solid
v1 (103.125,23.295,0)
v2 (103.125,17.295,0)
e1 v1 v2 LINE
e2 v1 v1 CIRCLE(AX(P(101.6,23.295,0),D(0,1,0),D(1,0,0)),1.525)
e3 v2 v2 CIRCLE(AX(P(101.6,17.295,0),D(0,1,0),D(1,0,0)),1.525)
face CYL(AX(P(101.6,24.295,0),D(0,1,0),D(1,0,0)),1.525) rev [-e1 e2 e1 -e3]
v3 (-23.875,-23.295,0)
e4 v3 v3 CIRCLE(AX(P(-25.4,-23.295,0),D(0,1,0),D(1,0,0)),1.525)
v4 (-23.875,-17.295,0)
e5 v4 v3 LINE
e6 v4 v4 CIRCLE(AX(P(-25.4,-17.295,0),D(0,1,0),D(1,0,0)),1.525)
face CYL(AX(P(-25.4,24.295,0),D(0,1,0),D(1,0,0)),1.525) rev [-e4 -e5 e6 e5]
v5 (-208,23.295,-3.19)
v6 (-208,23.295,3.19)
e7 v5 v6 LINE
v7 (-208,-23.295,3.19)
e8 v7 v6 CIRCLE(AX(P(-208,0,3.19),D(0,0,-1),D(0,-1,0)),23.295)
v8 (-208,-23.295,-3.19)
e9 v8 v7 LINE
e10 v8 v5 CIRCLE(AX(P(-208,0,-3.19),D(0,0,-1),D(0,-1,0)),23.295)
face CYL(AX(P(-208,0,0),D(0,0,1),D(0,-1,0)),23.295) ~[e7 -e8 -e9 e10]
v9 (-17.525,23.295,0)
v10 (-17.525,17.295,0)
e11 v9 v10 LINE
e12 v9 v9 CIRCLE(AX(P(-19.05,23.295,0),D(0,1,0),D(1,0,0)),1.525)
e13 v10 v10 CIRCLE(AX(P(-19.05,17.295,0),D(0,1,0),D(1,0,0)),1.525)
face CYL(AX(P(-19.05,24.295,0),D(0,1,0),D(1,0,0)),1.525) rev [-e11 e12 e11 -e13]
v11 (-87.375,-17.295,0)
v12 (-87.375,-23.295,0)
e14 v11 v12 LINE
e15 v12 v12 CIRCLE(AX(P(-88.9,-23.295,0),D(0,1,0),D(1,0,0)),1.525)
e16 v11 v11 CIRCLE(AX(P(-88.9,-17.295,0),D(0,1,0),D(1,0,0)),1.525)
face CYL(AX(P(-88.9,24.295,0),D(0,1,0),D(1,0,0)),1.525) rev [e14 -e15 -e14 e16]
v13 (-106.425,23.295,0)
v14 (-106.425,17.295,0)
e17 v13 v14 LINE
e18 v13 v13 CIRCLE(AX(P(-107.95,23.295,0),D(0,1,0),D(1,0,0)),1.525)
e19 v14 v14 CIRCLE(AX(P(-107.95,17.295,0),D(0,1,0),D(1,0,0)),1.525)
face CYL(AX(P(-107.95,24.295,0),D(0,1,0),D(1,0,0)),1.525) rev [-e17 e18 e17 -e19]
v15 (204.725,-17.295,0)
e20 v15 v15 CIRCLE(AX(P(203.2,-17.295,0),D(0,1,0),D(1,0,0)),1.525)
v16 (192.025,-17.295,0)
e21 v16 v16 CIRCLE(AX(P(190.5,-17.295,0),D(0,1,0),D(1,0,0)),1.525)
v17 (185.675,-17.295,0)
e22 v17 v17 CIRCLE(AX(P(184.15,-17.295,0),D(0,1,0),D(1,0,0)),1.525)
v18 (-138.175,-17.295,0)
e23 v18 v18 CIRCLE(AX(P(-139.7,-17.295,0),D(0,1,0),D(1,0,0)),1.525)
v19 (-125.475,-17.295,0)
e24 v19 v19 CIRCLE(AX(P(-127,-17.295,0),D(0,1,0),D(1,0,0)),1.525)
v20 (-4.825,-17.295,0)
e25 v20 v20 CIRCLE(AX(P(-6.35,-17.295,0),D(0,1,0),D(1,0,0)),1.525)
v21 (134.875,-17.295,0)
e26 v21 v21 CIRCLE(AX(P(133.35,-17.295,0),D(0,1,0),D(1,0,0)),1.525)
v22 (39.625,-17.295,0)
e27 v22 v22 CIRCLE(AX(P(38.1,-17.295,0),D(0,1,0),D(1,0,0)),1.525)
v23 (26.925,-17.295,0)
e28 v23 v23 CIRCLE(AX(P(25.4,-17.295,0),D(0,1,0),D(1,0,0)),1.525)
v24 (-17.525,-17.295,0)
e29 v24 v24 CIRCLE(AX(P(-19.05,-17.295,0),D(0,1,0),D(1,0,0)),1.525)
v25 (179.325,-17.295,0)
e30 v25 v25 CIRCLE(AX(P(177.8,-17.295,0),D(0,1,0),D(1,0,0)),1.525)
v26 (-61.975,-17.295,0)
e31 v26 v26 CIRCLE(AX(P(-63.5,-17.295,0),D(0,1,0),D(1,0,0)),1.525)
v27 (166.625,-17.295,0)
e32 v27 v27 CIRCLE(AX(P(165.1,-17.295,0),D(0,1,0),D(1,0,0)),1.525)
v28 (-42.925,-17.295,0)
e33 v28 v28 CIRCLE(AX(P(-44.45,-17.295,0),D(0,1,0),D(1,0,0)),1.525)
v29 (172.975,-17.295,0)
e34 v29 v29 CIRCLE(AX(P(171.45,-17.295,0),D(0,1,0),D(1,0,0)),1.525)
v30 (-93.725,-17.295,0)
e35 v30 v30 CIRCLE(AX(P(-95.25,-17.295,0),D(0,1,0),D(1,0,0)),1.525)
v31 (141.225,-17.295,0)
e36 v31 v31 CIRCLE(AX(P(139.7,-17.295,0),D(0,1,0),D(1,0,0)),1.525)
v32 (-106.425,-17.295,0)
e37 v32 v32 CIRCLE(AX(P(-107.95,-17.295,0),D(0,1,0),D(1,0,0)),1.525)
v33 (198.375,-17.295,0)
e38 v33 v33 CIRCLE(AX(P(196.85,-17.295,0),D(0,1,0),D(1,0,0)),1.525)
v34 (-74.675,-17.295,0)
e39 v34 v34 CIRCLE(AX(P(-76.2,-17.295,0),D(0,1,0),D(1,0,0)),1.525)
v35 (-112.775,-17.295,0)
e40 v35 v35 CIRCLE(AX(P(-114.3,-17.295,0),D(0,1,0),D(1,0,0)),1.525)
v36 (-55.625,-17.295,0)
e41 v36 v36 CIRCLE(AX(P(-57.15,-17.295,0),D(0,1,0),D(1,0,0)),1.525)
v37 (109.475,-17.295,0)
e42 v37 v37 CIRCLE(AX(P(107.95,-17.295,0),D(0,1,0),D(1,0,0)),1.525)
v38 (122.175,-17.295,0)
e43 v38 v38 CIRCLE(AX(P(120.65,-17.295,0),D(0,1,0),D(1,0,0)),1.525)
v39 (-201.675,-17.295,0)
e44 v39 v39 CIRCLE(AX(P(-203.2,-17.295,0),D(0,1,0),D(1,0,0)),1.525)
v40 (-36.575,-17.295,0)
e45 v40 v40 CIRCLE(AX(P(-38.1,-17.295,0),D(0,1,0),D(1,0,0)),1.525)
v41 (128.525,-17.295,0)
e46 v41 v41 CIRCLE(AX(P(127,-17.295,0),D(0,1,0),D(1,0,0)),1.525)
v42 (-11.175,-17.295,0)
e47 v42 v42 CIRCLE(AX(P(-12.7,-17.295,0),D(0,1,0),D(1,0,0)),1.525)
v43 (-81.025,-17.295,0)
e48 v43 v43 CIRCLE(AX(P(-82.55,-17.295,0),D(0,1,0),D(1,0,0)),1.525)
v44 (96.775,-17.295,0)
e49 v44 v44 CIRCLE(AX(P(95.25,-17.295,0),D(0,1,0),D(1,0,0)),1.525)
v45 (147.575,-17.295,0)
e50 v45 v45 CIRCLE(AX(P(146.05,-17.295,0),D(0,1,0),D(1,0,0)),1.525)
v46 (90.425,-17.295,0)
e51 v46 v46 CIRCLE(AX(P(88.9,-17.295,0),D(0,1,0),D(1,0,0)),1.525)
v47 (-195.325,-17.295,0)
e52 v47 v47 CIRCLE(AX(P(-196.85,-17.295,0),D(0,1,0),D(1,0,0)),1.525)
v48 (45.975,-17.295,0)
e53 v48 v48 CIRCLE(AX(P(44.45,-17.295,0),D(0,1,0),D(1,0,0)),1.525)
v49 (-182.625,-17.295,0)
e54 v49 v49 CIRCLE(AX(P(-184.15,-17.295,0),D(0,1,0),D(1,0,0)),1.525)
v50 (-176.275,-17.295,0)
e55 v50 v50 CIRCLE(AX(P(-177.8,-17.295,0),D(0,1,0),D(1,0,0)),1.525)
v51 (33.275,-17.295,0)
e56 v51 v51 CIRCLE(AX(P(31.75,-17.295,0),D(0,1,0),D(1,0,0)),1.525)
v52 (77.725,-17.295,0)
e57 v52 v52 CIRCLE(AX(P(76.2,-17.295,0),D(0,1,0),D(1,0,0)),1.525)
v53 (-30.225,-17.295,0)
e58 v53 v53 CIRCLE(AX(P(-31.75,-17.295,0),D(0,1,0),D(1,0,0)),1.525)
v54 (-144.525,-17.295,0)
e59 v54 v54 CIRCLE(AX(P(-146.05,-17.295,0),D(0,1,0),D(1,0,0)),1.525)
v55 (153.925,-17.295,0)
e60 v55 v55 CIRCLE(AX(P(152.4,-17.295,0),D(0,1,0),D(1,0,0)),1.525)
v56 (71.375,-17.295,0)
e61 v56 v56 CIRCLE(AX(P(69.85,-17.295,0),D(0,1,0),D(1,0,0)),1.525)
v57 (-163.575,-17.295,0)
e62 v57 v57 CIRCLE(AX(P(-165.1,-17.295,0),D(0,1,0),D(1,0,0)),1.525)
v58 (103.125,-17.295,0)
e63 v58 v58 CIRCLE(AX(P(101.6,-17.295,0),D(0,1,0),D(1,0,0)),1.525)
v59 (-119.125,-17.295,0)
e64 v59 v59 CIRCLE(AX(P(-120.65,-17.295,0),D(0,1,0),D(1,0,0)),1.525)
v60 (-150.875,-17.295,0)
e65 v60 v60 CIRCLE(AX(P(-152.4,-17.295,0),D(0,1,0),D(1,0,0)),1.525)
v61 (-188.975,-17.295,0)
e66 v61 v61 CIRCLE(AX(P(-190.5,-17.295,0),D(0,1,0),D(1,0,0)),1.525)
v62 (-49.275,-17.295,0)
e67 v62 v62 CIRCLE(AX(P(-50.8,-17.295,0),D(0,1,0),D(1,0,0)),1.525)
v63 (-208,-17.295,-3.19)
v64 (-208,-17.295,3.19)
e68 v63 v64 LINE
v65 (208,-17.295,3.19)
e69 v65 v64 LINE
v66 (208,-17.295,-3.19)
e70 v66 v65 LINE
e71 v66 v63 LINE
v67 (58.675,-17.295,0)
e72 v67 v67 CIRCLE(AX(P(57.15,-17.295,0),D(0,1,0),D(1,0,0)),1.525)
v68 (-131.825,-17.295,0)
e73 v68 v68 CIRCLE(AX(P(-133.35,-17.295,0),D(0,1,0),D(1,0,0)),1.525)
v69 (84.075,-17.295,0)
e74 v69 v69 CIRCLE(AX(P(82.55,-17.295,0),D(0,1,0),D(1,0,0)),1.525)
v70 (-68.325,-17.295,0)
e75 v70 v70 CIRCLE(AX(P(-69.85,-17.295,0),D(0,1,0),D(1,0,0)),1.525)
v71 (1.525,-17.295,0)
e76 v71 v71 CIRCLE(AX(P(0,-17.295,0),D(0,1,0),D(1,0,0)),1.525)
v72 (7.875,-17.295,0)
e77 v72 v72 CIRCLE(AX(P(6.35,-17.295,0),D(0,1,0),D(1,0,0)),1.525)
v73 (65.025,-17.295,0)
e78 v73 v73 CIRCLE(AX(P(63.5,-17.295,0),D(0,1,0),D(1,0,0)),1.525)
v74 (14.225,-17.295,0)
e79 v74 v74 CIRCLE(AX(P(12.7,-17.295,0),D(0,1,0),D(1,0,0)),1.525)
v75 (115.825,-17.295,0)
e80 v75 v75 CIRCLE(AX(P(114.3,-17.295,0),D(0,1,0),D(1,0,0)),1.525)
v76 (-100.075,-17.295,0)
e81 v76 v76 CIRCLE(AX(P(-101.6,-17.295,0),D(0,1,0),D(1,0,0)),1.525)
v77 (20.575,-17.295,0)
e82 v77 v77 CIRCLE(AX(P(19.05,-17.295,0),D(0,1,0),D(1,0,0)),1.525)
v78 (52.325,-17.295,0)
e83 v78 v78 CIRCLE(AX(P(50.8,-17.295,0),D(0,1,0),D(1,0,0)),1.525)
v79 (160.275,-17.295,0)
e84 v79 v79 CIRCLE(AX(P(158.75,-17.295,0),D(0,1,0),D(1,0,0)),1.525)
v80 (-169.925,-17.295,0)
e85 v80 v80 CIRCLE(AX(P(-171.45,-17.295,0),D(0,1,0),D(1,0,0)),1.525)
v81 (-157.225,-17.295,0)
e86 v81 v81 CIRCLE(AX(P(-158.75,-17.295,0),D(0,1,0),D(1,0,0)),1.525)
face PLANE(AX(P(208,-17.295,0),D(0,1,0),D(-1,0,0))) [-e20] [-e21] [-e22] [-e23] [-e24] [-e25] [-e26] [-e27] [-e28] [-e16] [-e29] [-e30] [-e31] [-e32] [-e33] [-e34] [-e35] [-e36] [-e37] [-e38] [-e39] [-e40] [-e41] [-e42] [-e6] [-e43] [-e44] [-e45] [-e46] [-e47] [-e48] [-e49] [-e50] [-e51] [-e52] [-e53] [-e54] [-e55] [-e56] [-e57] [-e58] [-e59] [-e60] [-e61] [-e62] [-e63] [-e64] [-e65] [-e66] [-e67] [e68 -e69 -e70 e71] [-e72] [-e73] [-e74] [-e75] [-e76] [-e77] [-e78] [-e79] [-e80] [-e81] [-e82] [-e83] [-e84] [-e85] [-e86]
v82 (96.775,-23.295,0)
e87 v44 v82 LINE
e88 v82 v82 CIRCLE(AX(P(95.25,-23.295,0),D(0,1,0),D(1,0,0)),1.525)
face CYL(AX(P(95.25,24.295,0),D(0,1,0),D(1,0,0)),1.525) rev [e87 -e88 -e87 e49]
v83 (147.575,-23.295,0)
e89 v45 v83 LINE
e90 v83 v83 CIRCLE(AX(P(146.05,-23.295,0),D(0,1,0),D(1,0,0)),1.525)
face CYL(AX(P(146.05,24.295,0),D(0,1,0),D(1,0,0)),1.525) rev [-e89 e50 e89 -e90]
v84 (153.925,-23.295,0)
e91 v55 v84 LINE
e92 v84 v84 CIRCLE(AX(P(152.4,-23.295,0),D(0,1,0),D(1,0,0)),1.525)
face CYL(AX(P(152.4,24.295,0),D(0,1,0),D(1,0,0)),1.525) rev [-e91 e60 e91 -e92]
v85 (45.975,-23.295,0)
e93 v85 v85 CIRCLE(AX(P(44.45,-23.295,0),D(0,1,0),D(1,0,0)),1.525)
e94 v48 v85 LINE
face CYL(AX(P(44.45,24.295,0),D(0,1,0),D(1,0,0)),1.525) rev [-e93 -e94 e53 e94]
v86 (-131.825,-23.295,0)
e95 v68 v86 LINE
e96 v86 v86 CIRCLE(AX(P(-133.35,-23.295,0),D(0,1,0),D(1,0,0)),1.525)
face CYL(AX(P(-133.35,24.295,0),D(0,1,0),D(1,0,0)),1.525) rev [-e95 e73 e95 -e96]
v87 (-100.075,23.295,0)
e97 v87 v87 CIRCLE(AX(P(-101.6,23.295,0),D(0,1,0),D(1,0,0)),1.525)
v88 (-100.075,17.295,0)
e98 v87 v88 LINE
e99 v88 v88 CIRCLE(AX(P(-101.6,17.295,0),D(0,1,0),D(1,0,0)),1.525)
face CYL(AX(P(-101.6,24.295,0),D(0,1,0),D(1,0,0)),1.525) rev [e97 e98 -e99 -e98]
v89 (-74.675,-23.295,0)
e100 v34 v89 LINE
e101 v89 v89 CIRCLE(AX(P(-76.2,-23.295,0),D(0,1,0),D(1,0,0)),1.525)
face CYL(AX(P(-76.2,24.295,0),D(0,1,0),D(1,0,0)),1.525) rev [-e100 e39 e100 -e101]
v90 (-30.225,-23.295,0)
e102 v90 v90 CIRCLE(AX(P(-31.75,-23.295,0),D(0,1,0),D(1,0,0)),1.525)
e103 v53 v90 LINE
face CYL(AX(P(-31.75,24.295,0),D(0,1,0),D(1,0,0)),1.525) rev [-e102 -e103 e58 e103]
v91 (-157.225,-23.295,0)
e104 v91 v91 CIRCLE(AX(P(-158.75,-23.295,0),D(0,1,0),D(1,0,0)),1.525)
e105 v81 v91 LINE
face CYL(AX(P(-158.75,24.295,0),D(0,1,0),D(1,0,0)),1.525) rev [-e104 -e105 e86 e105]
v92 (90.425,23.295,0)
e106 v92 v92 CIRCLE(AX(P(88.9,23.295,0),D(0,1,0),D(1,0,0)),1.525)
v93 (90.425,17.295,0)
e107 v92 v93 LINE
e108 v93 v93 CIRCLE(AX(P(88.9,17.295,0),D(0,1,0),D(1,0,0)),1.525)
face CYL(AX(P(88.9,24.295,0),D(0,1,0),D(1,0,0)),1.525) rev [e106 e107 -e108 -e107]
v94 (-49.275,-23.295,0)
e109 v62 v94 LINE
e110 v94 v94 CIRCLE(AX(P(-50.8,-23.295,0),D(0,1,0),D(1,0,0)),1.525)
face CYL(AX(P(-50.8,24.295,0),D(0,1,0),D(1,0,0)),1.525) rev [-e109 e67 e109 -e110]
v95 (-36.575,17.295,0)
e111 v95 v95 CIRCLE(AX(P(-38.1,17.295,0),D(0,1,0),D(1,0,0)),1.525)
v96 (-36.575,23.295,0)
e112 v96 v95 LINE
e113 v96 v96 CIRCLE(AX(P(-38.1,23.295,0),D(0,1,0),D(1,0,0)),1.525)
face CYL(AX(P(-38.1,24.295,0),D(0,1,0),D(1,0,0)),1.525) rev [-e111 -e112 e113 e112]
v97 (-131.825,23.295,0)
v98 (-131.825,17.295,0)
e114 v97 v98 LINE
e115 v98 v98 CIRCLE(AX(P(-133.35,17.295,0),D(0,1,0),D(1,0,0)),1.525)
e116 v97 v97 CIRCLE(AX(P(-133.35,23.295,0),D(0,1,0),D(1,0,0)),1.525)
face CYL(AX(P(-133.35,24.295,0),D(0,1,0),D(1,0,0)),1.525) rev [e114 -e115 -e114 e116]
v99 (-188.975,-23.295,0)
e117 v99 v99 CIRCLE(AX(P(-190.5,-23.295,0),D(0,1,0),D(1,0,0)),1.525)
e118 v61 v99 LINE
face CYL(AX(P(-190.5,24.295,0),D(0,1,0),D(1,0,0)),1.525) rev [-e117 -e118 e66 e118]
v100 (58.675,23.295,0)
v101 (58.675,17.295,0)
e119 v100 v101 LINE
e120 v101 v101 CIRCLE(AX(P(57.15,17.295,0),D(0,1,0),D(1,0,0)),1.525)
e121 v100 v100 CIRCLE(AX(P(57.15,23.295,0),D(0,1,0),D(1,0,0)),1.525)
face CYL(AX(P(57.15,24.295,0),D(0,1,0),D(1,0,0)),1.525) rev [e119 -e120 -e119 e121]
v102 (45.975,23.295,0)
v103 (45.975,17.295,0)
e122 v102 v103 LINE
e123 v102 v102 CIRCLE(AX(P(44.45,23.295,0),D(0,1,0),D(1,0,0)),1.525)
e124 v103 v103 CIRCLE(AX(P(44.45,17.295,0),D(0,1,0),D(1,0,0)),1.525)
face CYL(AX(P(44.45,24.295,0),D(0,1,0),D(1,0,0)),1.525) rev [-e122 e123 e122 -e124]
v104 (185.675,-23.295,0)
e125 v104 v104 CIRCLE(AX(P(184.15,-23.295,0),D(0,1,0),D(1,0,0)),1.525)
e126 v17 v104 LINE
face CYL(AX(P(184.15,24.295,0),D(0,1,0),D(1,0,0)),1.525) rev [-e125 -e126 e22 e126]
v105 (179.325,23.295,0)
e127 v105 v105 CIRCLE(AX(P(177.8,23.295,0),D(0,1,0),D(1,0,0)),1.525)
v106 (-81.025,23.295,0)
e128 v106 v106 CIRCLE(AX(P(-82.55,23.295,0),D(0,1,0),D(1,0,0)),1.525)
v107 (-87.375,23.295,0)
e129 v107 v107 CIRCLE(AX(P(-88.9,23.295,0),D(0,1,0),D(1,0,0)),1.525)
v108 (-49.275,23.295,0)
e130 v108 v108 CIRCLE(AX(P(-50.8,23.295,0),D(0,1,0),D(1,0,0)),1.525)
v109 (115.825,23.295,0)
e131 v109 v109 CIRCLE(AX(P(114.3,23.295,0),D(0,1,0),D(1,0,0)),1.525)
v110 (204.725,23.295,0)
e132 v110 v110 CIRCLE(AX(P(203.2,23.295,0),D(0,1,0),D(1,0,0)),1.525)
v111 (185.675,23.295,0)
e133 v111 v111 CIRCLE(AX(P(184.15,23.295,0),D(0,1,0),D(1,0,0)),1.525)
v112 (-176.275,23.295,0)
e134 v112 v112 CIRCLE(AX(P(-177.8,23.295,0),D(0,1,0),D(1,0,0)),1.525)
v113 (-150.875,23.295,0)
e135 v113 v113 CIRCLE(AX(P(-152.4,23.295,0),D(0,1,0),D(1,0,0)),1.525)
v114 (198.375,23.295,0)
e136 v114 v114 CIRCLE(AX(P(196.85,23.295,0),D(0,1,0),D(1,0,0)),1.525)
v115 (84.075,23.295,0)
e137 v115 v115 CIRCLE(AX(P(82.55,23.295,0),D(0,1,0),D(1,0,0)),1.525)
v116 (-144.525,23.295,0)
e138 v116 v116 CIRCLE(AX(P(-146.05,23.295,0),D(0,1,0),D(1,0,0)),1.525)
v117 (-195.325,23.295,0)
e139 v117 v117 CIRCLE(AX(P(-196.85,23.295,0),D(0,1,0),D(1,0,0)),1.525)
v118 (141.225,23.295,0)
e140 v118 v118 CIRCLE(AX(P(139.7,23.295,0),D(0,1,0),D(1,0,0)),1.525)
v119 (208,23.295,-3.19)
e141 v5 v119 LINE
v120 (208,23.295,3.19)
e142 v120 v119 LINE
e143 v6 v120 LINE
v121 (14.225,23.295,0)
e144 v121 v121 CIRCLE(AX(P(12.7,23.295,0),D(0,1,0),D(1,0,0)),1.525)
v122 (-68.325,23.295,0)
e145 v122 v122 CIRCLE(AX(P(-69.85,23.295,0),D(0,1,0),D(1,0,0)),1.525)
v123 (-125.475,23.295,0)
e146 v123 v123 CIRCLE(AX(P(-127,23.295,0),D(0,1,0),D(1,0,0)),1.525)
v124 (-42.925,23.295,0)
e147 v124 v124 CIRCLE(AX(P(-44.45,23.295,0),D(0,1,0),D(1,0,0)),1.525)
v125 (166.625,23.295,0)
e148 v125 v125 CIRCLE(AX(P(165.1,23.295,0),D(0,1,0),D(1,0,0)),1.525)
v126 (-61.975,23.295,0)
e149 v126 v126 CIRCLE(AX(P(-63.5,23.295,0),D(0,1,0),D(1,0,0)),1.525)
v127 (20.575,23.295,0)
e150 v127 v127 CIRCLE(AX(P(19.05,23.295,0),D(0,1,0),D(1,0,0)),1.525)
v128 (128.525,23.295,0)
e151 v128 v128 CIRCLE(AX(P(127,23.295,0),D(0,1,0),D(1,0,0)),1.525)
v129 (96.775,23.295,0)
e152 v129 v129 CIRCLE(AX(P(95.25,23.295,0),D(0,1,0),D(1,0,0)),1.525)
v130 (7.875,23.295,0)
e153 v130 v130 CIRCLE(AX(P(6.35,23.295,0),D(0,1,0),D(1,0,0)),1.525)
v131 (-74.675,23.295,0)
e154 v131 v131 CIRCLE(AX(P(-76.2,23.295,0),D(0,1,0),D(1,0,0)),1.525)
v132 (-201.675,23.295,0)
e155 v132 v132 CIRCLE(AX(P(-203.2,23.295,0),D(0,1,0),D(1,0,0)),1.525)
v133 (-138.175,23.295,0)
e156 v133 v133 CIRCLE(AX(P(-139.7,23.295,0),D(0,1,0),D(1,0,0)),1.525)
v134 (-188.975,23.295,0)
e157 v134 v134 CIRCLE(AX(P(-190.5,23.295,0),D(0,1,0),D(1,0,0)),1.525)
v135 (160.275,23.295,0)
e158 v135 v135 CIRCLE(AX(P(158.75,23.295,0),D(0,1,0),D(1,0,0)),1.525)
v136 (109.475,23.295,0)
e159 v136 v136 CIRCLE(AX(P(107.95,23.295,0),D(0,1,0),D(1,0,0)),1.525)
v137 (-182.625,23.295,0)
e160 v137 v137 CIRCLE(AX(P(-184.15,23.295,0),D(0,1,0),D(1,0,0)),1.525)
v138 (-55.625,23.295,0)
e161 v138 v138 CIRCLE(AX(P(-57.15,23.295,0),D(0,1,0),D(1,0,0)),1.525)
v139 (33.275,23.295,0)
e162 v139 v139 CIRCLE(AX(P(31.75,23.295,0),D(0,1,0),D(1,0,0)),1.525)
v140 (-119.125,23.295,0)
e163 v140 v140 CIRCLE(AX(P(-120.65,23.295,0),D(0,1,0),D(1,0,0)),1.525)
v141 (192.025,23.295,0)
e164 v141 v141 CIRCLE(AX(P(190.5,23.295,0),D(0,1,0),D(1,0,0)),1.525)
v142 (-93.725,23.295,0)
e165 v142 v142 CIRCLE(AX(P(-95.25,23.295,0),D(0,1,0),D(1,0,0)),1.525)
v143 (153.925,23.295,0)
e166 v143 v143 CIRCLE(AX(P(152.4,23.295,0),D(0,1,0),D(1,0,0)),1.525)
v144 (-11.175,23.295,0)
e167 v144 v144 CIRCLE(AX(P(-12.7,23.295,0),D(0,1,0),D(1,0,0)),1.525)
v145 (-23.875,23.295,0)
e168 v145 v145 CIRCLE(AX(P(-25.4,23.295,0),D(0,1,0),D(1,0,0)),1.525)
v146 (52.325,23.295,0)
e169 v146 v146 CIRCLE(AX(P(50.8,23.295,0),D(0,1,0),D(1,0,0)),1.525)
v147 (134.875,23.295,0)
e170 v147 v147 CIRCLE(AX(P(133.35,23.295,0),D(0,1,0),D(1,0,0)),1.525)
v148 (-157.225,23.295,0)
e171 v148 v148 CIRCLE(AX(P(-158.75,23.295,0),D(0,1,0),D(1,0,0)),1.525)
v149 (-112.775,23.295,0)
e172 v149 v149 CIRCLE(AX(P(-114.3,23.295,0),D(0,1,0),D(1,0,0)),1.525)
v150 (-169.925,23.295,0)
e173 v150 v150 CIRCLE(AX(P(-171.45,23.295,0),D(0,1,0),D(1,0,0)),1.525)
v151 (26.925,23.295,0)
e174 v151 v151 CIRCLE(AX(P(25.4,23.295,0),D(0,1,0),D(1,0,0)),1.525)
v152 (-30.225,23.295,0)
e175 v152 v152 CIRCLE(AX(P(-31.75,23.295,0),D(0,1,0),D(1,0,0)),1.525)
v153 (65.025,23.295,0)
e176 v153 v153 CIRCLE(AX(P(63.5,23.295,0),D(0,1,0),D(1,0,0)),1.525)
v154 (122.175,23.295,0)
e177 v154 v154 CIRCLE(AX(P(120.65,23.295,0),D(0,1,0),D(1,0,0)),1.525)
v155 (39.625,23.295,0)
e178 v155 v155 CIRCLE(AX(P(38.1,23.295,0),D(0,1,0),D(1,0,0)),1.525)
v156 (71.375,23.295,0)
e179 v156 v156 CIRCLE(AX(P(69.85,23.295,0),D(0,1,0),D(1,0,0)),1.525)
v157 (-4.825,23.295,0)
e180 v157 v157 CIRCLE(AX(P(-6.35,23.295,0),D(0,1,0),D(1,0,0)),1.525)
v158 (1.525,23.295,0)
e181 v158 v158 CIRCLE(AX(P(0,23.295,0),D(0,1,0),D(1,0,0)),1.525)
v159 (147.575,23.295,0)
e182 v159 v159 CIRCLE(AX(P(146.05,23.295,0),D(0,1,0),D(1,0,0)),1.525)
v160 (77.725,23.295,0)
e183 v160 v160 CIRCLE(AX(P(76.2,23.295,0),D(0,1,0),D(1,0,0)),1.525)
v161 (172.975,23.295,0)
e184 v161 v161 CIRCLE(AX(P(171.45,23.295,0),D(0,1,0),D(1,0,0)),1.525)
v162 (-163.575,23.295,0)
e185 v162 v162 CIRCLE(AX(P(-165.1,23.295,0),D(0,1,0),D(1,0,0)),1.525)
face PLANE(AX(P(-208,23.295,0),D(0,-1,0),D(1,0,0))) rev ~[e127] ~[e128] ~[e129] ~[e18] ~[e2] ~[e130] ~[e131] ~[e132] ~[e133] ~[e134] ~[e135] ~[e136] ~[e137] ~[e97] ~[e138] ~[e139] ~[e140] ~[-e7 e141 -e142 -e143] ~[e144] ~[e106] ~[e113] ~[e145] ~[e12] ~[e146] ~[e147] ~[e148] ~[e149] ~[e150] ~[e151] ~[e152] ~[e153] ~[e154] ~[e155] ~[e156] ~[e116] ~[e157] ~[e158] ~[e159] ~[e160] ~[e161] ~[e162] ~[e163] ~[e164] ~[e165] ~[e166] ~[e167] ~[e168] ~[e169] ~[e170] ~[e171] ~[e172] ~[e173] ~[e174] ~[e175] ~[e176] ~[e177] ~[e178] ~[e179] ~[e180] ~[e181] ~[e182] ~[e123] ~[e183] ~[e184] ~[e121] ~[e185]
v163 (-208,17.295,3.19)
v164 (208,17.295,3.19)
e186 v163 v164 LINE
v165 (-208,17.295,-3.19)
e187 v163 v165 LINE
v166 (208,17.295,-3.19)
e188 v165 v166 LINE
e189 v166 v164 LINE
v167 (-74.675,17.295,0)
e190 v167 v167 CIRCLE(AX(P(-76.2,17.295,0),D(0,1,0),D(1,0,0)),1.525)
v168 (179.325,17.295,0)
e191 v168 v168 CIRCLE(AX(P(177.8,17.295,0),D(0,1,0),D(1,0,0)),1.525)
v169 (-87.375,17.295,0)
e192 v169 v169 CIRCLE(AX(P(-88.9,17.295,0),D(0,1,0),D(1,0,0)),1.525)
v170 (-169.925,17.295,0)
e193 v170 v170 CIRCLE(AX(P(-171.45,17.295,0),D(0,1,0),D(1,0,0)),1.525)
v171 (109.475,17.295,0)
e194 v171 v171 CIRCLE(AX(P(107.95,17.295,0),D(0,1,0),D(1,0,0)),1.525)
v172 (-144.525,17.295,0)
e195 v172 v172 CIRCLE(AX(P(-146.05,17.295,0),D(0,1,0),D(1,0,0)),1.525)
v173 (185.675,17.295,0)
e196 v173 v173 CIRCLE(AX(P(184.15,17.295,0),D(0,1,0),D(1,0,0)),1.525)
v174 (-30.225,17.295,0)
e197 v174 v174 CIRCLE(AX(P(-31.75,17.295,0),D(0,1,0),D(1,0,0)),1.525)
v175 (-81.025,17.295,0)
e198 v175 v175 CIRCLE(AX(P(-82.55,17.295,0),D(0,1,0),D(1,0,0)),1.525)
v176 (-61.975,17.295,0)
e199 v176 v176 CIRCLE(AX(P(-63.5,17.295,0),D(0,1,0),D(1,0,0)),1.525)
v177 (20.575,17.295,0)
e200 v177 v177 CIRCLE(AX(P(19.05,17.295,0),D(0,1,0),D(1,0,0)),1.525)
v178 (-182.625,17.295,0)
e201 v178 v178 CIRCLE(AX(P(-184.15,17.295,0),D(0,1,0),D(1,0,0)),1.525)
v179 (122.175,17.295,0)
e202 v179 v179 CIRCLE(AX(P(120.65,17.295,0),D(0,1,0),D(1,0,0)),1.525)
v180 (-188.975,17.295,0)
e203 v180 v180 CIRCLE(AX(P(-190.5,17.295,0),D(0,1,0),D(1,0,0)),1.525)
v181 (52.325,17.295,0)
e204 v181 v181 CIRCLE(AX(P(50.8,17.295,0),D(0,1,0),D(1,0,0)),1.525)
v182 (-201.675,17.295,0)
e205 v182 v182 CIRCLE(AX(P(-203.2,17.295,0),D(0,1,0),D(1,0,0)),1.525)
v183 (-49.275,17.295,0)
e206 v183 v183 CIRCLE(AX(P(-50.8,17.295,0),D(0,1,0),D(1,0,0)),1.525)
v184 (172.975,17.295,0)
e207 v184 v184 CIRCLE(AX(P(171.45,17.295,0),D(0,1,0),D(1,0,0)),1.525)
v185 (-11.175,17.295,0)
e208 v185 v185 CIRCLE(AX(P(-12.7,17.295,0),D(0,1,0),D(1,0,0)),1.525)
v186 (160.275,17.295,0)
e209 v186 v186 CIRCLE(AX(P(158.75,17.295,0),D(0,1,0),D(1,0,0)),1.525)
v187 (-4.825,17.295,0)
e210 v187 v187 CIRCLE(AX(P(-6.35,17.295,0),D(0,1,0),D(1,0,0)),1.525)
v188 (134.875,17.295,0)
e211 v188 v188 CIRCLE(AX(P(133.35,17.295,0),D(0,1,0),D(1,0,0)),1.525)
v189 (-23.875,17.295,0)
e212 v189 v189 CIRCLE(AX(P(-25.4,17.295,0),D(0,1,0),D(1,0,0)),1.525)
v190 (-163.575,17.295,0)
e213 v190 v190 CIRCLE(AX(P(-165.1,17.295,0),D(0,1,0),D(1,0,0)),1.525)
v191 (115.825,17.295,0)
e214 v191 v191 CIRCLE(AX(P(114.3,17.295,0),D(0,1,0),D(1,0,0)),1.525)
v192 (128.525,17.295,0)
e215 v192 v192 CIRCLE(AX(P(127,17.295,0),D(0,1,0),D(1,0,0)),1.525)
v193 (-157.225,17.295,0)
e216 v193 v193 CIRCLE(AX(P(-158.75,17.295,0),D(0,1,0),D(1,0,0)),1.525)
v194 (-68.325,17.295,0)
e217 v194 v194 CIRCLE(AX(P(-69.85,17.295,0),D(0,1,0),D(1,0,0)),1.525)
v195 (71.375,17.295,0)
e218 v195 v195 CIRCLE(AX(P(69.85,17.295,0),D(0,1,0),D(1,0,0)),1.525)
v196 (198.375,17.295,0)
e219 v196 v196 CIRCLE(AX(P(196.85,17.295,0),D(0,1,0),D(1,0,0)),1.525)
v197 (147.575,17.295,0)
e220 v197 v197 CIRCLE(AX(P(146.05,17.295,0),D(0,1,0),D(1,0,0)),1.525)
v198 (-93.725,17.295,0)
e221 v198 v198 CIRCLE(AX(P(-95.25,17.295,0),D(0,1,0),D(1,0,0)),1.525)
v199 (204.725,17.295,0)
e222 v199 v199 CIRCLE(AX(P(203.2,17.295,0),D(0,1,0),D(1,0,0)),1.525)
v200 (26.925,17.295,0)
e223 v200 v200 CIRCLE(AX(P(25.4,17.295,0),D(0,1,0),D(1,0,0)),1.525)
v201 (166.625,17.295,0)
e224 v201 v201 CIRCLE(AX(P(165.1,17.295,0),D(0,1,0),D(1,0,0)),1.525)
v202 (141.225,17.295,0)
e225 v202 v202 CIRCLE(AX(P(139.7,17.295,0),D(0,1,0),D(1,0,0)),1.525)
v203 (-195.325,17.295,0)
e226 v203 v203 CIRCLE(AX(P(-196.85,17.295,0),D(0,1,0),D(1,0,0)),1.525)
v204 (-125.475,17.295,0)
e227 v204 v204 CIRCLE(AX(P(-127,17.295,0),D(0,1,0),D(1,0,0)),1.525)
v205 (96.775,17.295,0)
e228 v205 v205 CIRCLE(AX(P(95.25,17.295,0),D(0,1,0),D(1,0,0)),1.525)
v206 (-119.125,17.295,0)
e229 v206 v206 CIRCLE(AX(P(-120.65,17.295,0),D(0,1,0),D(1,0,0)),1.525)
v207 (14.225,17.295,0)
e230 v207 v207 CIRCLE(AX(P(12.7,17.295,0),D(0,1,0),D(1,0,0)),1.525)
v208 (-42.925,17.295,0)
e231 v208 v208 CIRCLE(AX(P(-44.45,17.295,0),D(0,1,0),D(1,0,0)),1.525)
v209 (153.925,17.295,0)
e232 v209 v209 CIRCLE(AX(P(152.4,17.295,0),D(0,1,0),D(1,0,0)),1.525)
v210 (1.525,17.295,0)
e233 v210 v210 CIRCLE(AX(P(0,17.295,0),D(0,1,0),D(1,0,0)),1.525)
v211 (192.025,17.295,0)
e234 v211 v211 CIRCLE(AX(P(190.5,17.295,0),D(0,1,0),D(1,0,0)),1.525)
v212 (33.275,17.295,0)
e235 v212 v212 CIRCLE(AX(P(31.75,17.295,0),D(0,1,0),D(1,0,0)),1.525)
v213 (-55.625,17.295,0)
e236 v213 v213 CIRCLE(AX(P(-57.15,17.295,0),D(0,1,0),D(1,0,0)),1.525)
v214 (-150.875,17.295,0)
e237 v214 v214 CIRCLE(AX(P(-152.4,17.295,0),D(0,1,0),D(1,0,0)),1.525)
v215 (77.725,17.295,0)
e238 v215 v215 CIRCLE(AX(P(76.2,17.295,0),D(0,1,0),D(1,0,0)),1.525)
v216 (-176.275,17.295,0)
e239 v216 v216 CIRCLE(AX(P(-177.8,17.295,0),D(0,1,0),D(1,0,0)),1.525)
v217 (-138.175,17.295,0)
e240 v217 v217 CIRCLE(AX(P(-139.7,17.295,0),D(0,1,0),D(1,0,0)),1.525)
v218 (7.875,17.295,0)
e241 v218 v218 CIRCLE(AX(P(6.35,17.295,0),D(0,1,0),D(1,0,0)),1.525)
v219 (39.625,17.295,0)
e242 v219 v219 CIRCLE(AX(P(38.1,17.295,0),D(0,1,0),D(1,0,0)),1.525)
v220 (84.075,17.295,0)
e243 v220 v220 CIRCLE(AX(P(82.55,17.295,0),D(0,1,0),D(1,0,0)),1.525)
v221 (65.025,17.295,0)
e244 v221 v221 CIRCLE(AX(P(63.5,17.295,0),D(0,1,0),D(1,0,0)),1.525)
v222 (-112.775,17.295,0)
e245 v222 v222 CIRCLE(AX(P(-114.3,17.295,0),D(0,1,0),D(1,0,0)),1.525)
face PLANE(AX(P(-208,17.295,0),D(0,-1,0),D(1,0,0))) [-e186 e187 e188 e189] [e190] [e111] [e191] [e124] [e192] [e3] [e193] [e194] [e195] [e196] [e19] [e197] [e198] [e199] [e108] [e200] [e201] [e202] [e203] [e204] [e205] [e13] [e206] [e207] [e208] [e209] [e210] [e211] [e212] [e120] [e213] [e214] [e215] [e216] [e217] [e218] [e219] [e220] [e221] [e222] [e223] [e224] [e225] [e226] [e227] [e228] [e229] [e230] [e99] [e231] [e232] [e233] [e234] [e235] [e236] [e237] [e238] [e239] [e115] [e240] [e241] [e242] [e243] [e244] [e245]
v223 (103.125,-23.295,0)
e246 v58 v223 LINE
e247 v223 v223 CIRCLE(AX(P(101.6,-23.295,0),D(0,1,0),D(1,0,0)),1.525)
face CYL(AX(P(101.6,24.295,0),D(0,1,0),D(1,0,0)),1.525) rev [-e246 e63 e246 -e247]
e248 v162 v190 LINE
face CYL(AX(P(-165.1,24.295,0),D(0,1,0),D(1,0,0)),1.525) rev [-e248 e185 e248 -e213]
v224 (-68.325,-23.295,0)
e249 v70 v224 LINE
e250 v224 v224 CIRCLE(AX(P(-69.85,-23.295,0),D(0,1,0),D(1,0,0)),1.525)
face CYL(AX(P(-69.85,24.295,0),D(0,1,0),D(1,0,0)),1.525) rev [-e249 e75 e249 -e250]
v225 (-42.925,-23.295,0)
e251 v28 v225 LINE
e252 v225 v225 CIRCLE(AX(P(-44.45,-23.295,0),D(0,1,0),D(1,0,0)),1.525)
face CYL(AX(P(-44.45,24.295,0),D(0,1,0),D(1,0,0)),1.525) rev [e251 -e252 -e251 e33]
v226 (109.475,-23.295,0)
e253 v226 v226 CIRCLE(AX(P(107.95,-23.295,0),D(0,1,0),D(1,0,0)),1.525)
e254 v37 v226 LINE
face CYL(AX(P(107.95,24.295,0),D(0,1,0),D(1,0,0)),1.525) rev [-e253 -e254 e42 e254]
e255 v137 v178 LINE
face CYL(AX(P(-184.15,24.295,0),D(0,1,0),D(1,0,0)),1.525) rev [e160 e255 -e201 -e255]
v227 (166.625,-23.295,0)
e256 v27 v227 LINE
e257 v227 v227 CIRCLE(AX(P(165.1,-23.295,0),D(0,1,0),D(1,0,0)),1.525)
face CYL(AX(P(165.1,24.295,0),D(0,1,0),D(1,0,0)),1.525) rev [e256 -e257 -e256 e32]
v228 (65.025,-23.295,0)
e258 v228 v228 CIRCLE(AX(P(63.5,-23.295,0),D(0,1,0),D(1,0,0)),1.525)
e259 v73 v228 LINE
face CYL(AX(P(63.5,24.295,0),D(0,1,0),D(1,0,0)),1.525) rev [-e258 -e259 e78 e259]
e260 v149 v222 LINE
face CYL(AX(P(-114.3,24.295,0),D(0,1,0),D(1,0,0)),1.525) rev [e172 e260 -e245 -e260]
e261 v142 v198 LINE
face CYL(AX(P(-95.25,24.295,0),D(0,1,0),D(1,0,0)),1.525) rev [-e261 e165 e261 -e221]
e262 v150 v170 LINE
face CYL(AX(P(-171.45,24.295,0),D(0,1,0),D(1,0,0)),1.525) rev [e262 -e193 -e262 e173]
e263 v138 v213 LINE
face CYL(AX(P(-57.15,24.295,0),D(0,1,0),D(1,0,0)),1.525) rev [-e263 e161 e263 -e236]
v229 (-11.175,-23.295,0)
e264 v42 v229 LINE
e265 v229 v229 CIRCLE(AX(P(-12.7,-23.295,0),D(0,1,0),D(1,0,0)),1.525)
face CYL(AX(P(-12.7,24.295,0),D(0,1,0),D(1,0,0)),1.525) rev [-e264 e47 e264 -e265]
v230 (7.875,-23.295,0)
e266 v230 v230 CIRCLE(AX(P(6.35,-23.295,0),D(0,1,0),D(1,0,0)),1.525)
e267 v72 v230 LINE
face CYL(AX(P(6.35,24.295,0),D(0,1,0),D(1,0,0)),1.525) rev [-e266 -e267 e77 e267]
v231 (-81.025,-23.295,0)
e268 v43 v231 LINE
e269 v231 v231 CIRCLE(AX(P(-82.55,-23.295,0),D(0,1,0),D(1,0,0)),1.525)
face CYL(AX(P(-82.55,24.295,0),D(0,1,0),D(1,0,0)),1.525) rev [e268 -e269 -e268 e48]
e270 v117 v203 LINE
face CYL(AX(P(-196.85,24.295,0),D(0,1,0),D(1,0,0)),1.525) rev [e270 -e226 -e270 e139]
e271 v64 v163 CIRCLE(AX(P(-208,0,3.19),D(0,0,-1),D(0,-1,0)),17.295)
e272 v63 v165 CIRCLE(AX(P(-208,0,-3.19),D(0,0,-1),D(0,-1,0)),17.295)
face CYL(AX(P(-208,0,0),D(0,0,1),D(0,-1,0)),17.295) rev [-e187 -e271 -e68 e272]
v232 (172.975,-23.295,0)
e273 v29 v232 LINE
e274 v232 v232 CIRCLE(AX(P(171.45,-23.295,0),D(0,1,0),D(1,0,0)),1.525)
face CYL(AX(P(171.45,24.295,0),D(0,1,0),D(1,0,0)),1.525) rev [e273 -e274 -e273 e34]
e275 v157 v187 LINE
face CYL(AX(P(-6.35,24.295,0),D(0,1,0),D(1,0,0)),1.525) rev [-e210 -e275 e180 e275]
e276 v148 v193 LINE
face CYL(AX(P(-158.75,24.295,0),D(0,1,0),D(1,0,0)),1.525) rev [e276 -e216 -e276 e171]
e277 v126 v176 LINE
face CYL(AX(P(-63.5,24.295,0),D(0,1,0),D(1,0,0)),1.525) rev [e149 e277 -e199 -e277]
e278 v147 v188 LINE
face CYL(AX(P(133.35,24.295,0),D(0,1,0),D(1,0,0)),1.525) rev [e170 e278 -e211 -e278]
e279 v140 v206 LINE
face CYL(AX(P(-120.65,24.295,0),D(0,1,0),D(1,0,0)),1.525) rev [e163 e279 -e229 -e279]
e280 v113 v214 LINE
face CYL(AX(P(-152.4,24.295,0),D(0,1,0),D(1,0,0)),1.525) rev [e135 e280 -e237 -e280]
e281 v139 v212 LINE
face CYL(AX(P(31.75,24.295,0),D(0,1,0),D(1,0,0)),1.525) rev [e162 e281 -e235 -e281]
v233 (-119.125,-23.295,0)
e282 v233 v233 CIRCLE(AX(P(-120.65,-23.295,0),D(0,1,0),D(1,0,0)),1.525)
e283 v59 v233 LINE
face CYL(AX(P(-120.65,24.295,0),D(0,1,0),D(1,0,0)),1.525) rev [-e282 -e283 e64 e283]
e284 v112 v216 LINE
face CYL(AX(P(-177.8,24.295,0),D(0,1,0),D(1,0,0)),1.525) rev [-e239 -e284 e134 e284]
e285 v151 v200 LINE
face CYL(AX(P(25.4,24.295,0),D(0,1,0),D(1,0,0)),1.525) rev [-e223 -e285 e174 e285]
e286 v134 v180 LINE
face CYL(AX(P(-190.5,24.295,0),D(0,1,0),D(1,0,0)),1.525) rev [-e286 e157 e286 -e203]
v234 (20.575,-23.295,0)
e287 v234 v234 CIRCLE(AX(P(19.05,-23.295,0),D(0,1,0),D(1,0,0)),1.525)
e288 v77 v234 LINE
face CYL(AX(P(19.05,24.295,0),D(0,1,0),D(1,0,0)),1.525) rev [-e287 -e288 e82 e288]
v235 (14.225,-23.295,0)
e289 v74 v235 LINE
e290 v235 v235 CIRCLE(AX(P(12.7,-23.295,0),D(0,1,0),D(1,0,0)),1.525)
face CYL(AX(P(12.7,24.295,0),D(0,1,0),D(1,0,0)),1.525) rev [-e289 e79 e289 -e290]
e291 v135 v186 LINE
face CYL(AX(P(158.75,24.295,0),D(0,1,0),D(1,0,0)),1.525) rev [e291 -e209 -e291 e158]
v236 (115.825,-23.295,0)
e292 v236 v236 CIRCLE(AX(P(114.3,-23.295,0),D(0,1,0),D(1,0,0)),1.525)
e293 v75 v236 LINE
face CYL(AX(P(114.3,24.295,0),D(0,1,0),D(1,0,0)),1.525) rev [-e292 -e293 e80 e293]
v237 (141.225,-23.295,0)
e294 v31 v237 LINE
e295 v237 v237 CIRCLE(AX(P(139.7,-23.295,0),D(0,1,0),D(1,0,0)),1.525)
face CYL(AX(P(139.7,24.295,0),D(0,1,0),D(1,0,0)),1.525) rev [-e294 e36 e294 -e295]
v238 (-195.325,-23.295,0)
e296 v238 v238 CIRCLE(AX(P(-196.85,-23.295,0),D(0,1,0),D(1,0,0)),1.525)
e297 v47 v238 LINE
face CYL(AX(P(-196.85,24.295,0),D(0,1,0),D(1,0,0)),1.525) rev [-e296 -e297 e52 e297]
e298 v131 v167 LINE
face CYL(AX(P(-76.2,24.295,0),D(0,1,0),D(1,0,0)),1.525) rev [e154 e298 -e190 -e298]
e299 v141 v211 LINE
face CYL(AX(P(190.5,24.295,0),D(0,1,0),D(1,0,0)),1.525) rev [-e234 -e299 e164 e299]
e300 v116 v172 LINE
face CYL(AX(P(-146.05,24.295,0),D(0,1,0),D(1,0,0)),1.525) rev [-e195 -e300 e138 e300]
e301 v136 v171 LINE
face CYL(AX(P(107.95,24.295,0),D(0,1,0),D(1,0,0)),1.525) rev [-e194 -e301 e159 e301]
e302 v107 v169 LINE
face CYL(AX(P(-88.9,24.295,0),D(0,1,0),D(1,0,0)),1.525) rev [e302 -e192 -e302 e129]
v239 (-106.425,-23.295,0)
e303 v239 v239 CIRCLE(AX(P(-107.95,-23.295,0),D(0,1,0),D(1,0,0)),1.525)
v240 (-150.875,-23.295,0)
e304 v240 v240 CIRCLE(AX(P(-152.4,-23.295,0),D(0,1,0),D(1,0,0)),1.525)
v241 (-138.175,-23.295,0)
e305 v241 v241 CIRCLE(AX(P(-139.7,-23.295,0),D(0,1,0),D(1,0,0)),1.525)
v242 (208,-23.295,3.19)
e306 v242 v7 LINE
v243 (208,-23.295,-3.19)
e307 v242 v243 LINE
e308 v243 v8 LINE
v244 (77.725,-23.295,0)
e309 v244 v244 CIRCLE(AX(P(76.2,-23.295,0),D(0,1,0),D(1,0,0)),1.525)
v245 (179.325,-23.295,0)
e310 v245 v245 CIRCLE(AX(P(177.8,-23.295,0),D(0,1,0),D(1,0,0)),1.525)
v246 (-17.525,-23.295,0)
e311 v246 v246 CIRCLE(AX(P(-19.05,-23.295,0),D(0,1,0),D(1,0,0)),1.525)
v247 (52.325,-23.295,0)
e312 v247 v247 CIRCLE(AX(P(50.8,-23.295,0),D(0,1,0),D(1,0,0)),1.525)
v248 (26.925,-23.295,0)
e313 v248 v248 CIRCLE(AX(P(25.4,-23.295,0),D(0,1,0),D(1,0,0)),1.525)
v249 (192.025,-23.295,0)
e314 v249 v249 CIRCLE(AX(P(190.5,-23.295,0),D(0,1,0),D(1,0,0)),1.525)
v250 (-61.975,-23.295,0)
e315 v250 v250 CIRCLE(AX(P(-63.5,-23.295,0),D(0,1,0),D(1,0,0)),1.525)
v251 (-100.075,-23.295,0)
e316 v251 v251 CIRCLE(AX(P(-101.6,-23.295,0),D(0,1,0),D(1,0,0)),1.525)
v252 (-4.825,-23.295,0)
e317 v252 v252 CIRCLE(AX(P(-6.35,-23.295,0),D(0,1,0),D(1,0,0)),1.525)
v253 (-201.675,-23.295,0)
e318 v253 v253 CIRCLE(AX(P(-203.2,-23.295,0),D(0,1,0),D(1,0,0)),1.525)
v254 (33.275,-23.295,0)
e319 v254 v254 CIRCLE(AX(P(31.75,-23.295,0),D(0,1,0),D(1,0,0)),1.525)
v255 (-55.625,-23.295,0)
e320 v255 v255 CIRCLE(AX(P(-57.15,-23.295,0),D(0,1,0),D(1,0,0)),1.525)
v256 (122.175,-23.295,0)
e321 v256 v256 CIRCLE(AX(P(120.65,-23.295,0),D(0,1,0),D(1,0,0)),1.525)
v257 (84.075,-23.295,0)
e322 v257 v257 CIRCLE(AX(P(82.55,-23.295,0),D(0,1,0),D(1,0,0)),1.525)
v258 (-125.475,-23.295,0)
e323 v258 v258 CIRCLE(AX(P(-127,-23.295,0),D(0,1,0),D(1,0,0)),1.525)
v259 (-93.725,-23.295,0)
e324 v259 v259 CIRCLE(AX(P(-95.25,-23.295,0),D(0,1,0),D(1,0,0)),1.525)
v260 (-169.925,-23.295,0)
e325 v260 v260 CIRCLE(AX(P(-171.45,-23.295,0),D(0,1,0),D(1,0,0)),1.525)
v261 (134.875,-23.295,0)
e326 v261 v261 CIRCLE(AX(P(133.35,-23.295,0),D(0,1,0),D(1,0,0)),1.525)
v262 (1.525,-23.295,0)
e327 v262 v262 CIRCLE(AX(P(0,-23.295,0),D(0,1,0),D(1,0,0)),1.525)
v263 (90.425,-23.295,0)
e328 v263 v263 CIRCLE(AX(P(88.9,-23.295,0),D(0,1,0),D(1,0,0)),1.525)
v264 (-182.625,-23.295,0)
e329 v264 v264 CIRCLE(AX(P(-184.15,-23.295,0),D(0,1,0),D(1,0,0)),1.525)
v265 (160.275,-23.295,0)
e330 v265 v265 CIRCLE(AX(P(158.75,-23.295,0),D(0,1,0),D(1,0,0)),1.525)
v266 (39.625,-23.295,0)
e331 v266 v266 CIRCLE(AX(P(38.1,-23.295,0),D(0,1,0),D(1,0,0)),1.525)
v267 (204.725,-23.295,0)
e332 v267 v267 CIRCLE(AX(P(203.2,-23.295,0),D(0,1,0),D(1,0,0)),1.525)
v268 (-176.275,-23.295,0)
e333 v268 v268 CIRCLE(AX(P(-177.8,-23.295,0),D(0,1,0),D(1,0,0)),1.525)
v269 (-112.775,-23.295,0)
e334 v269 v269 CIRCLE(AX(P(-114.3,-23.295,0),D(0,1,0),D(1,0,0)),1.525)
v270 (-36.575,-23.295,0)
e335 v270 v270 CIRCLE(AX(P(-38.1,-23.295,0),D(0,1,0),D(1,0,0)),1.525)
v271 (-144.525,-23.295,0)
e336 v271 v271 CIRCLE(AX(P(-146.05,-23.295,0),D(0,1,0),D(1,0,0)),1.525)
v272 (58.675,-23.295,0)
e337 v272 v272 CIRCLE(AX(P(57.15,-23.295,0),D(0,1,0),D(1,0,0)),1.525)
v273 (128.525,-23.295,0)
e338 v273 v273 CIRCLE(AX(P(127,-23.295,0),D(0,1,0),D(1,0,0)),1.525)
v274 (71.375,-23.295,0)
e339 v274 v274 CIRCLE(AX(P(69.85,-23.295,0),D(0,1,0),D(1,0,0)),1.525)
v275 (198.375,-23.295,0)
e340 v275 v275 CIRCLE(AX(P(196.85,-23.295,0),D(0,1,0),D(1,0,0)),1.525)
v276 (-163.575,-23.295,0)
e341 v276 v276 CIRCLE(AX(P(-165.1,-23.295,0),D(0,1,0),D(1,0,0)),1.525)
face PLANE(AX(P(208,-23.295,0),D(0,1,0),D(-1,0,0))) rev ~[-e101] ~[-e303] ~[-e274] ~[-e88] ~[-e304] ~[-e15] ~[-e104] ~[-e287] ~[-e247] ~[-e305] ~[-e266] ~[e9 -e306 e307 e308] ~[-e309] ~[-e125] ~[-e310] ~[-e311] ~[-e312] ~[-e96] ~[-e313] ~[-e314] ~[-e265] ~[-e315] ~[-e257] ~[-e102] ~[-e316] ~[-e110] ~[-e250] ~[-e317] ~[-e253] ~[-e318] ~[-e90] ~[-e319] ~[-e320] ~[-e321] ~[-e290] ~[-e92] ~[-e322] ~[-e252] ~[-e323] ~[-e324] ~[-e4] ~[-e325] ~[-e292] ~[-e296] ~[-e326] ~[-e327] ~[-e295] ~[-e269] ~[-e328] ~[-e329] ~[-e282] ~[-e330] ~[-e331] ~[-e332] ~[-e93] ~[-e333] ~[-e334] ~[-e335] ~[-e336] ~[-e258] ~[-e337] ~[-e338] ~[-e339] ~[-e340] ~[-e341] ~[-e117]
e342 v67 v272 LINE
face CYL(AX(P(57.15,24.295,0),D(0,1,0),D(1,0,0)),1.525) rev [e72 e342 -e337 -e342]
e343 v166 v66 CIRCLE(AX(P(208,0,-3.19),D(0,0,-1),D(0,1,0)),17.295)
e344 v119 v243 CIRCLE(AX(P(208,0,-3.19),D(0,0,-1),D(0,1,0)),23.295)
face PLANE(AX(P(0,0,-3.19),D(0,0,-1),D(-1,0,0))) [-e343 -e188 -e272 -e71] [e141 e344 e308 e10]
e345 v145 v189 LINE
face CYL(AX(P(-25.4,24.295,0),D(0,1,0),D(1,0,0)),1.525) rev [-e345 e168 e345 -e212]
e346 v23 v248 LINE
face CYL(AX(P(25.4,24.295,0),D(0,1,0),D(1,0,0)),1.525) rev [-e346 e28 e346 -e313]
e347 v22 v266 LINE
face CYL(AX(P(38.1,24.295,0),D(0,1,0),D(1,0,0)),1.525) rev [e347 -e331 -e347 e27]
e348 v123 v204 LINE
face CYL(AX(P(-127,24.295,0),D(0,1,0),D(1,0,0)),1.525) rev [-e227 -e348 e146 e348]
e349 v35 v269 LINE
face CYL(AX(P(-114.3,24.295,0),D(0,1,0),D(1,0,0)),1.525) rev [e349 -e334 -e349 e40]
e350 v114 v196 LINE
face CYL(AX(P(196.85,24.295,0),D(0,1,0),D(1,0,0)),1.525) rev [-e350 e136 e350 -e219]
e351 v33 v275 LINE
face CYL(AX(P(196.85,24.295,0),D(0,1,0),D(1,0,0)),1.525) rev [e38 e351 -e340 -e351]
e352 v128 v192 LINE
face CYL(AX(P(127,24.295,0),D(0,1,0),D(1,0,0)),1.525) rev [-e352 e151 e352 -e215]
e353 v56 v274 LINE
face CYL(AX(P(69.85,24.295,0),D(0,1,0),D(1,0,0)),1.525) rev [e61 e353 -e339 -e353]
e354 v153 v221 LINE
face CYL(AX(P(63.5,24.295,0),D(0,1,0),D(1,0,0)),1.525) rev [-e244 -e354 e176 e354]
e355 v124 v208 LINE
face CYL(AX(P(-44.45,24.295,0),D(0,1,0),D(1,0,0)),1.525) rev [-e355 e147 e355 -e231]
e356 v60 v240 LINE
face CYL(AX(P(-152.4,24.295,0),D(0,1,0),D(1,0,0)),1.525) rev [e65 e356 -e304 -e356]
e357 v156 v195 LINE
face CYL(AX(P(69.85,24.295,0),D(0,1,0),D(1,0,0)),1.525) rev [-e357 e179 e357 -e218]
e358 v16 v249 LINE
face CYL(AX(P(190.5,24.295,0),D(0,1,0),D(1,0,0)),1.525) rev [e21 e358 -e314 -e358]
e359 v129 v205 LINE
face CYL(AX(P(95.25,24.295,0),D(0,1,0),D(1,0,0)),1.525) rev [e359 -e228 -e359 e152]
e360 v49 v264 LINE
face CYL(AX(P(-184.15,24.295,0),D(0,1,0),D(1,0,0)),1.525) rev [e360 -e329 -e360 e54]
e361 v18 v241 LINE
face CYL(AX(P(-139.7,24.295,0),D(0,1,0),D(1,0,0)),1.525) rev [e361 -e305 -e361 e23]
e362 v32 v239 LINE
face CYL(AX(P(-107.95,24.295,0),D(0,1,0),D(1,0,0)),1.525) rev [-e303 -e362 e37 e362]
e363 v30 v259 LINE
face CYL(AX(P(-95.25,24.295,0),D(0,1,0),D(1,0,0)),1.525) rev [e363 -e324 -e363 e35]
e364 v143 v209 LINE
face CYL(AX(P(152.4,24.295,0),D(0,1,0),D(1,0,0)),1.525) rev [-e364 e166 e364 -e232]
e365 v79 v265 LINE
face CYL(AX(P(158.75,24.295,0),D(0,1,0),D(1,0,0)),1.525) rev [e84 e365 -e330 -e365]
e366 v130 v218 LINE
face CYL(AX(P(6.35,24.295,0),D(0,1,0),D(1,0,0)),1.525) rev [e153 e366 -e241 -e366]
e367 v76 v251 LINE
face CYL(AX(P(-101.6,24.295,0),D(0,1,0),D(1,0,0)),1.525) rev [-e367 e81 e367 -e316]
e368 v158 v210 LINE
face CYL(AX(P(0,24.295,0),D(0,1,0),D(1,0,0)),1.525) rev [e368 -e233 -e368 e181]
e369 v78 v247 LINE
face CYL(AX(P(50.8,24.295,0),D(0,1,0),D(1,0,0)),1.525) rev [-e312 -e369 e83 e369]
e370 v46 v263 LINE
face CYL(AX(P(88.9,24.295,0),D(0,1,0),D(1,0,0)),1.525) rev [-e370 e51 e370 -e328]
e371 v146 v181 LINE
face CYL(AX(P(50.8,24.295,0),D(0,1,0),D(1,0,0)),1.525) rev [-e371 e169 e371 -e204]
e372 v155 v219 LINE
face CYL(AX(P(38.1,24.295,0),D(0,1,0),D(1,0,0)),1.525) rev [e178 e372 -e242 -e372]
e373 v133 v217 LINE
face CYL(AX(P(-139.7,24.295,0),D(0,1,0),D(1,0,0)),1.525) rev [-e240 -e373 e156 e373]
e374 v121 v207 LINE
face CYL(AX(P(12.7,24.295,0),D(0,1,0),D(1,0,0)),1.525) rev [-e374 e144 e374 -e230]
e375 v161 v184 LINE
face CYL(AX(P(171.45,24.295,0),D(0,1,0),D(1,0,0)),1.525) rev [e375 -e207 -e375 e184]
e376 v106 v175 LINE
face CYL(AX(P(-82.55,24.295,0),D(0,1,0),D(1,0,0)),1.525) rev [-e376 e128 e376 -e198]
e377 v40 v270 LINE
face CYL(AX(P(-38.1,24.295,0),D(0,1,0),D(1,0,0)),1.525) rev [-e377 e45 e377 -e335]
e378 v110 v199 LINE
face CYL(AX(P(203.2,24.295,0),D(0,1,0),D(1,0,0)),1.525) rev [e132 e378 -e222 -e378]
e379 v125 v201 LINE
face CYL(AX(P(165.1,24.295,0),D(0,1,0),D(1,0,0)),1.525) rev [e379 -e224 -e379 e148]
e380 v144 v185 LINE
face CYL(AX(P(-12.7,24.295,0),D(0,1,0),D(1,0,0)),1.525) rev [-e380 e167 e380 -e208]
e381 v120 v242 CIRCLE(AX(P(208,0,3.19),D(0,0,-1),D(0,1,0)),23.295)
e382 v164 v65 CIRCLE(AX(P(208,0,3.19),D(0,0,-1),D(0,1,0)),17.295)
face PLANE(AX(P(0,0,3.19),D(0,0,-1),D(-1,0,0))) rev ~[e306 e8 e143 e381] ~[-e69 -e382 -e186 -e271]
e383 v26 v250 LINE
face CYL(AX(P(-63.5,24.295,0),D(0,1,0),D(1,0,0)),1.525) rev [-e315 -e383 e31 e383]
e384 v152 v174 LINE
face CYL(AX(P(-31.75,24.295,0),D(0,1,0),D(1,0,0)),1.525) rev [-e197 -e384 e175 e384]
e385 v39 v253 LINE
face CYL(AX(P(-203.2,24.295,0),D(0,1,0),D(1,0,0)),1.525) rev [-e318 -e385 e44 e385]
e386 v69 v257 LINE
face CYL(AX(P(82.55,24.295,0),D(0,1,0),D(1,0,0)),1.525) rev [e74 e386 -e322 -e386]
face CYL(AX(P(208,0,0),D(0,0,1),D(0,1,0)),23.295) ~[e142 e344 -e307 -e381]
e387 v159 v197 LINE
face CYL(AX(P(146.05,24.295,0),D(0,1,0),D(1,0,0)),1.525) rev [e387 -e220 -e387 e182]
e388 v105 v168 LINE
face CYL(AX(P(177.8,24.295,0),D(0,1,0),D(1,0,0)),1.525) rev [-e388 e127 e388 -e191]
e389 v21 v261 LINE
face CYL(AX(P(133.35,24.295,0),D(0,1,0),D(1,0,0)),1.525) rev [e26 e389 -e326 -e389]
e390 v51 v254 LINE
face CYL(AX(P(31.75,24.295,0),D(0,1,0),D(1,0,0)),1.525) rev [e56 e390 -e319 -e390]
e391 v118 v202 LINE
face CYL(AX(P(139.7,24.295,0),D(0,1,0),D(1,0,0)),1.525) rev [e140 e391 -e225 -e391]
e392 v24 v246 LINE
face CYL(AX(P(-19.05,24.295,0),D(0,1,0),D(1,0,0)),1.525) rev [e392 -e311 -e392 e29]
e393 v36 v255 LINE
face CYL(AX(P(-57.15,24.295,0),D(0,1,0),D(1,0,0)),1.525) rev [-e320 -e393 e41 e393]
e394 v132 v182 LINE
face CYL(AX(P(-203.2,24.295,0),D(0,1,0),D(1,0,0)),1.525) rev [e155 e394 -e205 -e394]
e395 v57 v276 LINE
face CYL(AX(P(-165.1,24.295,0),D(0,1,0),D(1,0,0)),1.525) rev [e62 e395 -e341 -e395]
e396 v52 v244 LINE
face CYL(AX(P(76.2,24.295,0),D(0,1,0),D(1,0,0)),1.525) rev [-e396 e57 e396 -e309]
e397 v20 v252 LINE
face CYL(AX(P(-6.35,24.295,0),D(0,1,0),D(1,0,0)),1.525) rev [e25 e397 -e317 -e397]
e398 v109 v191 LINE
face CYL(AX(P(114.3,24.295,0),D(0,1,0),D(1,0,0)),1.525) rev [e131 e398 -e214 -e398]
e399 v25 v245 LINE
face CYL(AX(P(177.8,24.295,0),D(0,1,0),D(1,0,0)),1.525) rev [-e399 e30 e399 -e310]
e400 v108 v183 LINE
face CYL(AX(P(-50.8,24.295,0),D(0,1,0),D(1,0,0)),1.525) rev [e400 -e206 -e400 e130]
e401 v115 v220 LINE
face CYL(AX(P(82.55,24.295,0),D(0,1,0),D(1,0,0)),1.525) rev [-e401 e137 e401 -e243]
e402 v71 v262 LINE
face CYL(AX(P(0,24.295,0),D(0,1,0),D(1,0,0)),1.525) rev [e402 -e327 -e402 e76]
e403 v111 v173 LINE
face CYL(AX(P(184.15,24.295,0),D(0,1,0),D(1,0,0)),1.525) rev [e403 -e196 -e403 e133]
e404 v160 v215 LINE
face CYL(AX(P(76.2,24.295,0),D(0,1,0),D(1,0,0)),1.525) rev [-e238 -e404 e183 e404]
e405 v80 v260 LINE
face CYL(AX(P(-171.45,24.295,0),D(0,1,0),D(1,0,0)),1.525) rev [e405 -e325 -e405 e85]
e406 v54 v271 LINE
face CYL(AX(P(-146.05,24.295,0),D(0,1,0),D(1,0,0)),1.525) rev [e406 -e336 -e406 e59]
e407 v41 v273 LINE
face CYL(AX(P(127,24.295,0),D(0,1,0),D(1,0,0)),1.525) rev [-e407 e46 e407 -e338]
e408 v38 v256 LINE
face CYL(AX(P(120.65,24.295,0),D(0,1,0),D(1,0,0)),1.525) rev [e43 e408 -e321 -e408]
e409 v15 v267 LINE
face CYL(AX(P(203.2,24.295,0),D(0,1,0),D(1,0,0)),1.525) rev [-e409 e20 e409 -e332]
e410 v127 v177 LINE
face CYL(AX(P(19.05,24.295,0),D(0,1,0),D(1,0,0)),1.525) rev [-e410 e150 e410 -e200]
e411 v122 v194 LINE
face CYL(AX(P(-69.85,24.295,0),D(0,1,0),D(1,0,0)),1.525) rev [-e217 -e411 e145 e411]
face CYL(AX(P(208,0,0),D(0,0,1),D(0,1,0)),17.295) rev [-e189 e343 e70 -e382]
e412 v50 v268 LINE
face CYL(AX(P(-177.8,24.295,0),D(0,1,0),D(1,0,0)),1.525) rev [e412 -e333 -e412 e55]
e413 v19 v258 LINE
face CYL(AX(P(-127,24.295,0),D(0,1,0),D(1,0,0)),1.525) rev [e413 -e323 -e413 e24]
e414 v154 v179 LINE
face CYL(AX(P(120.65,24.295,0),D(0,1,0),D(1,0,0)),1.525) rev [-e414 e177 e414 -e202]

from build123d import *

# Parameters (mm, degrees)
EXTRUDE_1_DEPTH            = 3.19
CUT_EXTRUDE_START          = -47.59
SKETCH_2_R                 = 1.525
CUT_EXTRUDE_1_DEPTH        = 48.59
PATTERN_LINEAR_1_COUNT     = 33
PATTERN_LINEAR_1_PITCH     = 6.35
PATTERN_LINEAR_1_COL_COUNT = 33
PATTERN_LINEAR_1_COL_PITCH = 6.35


with BuildPart() as part:
    # 草图1 → 凸台-拉伸1 (new body, symmetric)
    with BuildSketch(Plane.XY):
        with BuildLine():
            Line((-208, 23.295), (208, 23.295))
            ThreePointArc((208, 23.295), (231.295, 0), (208, -23.295))
            Line((208, -23.295), (-208, -23.295))
            ThreePointArc((-208, -23.295), (-231.295, 0), (-208, 23.295))
        make_face()
        with BuildLine():
            Line((-208, 17.295), (208, 17.295))
            ThreePointArc((208, 17.295), (225.295, 0), (208, -17.295))
            Line((208, -17.295), (-208, -17.295))
            ThreePointArc((-208, -17.295), (-225.295, 0), (-208, 17.295))
        make_face(mode=Mode.SUBTRACT)
    extrude(amount=EXTRUDE_1_DEPTH, both=True)

    # 草图2 → 切除-拉伸1 (cut)
    with BuildSketch(Plane.XZ.offset(23.295).offset(CUT_EXTRUDE_START)):
        Circle(SKETCH_2_R)
    cut_extrude_1 = extrude(amount=CUT_EXTRUDE_1_DEPTH, mode=Mode.SUBTRACT)

    # 阵列(线性)1: 切除-拉伸1 ×33
    with Locations(*[(-i * PATTERN_LINEAR_1_PITCH, 0, 0) for i in range(1, PATTERN_LINEAR_1_COUNT)]):
        add(cut_extrude_1, mode=Mode.SUBTRACT)

    # 阵列(线性)1 col: 切除-拉伸1 ×33
    with Locations(*[(i * PATTERN_LINEAR_1_COL_PITCH, 0, 0) for i in range(1, PATTERN_LINEAR_1_COL_COUNT)]):
        add(cut_extrude_1, mode=Mode.SUBTRACT)


solid = part.part
